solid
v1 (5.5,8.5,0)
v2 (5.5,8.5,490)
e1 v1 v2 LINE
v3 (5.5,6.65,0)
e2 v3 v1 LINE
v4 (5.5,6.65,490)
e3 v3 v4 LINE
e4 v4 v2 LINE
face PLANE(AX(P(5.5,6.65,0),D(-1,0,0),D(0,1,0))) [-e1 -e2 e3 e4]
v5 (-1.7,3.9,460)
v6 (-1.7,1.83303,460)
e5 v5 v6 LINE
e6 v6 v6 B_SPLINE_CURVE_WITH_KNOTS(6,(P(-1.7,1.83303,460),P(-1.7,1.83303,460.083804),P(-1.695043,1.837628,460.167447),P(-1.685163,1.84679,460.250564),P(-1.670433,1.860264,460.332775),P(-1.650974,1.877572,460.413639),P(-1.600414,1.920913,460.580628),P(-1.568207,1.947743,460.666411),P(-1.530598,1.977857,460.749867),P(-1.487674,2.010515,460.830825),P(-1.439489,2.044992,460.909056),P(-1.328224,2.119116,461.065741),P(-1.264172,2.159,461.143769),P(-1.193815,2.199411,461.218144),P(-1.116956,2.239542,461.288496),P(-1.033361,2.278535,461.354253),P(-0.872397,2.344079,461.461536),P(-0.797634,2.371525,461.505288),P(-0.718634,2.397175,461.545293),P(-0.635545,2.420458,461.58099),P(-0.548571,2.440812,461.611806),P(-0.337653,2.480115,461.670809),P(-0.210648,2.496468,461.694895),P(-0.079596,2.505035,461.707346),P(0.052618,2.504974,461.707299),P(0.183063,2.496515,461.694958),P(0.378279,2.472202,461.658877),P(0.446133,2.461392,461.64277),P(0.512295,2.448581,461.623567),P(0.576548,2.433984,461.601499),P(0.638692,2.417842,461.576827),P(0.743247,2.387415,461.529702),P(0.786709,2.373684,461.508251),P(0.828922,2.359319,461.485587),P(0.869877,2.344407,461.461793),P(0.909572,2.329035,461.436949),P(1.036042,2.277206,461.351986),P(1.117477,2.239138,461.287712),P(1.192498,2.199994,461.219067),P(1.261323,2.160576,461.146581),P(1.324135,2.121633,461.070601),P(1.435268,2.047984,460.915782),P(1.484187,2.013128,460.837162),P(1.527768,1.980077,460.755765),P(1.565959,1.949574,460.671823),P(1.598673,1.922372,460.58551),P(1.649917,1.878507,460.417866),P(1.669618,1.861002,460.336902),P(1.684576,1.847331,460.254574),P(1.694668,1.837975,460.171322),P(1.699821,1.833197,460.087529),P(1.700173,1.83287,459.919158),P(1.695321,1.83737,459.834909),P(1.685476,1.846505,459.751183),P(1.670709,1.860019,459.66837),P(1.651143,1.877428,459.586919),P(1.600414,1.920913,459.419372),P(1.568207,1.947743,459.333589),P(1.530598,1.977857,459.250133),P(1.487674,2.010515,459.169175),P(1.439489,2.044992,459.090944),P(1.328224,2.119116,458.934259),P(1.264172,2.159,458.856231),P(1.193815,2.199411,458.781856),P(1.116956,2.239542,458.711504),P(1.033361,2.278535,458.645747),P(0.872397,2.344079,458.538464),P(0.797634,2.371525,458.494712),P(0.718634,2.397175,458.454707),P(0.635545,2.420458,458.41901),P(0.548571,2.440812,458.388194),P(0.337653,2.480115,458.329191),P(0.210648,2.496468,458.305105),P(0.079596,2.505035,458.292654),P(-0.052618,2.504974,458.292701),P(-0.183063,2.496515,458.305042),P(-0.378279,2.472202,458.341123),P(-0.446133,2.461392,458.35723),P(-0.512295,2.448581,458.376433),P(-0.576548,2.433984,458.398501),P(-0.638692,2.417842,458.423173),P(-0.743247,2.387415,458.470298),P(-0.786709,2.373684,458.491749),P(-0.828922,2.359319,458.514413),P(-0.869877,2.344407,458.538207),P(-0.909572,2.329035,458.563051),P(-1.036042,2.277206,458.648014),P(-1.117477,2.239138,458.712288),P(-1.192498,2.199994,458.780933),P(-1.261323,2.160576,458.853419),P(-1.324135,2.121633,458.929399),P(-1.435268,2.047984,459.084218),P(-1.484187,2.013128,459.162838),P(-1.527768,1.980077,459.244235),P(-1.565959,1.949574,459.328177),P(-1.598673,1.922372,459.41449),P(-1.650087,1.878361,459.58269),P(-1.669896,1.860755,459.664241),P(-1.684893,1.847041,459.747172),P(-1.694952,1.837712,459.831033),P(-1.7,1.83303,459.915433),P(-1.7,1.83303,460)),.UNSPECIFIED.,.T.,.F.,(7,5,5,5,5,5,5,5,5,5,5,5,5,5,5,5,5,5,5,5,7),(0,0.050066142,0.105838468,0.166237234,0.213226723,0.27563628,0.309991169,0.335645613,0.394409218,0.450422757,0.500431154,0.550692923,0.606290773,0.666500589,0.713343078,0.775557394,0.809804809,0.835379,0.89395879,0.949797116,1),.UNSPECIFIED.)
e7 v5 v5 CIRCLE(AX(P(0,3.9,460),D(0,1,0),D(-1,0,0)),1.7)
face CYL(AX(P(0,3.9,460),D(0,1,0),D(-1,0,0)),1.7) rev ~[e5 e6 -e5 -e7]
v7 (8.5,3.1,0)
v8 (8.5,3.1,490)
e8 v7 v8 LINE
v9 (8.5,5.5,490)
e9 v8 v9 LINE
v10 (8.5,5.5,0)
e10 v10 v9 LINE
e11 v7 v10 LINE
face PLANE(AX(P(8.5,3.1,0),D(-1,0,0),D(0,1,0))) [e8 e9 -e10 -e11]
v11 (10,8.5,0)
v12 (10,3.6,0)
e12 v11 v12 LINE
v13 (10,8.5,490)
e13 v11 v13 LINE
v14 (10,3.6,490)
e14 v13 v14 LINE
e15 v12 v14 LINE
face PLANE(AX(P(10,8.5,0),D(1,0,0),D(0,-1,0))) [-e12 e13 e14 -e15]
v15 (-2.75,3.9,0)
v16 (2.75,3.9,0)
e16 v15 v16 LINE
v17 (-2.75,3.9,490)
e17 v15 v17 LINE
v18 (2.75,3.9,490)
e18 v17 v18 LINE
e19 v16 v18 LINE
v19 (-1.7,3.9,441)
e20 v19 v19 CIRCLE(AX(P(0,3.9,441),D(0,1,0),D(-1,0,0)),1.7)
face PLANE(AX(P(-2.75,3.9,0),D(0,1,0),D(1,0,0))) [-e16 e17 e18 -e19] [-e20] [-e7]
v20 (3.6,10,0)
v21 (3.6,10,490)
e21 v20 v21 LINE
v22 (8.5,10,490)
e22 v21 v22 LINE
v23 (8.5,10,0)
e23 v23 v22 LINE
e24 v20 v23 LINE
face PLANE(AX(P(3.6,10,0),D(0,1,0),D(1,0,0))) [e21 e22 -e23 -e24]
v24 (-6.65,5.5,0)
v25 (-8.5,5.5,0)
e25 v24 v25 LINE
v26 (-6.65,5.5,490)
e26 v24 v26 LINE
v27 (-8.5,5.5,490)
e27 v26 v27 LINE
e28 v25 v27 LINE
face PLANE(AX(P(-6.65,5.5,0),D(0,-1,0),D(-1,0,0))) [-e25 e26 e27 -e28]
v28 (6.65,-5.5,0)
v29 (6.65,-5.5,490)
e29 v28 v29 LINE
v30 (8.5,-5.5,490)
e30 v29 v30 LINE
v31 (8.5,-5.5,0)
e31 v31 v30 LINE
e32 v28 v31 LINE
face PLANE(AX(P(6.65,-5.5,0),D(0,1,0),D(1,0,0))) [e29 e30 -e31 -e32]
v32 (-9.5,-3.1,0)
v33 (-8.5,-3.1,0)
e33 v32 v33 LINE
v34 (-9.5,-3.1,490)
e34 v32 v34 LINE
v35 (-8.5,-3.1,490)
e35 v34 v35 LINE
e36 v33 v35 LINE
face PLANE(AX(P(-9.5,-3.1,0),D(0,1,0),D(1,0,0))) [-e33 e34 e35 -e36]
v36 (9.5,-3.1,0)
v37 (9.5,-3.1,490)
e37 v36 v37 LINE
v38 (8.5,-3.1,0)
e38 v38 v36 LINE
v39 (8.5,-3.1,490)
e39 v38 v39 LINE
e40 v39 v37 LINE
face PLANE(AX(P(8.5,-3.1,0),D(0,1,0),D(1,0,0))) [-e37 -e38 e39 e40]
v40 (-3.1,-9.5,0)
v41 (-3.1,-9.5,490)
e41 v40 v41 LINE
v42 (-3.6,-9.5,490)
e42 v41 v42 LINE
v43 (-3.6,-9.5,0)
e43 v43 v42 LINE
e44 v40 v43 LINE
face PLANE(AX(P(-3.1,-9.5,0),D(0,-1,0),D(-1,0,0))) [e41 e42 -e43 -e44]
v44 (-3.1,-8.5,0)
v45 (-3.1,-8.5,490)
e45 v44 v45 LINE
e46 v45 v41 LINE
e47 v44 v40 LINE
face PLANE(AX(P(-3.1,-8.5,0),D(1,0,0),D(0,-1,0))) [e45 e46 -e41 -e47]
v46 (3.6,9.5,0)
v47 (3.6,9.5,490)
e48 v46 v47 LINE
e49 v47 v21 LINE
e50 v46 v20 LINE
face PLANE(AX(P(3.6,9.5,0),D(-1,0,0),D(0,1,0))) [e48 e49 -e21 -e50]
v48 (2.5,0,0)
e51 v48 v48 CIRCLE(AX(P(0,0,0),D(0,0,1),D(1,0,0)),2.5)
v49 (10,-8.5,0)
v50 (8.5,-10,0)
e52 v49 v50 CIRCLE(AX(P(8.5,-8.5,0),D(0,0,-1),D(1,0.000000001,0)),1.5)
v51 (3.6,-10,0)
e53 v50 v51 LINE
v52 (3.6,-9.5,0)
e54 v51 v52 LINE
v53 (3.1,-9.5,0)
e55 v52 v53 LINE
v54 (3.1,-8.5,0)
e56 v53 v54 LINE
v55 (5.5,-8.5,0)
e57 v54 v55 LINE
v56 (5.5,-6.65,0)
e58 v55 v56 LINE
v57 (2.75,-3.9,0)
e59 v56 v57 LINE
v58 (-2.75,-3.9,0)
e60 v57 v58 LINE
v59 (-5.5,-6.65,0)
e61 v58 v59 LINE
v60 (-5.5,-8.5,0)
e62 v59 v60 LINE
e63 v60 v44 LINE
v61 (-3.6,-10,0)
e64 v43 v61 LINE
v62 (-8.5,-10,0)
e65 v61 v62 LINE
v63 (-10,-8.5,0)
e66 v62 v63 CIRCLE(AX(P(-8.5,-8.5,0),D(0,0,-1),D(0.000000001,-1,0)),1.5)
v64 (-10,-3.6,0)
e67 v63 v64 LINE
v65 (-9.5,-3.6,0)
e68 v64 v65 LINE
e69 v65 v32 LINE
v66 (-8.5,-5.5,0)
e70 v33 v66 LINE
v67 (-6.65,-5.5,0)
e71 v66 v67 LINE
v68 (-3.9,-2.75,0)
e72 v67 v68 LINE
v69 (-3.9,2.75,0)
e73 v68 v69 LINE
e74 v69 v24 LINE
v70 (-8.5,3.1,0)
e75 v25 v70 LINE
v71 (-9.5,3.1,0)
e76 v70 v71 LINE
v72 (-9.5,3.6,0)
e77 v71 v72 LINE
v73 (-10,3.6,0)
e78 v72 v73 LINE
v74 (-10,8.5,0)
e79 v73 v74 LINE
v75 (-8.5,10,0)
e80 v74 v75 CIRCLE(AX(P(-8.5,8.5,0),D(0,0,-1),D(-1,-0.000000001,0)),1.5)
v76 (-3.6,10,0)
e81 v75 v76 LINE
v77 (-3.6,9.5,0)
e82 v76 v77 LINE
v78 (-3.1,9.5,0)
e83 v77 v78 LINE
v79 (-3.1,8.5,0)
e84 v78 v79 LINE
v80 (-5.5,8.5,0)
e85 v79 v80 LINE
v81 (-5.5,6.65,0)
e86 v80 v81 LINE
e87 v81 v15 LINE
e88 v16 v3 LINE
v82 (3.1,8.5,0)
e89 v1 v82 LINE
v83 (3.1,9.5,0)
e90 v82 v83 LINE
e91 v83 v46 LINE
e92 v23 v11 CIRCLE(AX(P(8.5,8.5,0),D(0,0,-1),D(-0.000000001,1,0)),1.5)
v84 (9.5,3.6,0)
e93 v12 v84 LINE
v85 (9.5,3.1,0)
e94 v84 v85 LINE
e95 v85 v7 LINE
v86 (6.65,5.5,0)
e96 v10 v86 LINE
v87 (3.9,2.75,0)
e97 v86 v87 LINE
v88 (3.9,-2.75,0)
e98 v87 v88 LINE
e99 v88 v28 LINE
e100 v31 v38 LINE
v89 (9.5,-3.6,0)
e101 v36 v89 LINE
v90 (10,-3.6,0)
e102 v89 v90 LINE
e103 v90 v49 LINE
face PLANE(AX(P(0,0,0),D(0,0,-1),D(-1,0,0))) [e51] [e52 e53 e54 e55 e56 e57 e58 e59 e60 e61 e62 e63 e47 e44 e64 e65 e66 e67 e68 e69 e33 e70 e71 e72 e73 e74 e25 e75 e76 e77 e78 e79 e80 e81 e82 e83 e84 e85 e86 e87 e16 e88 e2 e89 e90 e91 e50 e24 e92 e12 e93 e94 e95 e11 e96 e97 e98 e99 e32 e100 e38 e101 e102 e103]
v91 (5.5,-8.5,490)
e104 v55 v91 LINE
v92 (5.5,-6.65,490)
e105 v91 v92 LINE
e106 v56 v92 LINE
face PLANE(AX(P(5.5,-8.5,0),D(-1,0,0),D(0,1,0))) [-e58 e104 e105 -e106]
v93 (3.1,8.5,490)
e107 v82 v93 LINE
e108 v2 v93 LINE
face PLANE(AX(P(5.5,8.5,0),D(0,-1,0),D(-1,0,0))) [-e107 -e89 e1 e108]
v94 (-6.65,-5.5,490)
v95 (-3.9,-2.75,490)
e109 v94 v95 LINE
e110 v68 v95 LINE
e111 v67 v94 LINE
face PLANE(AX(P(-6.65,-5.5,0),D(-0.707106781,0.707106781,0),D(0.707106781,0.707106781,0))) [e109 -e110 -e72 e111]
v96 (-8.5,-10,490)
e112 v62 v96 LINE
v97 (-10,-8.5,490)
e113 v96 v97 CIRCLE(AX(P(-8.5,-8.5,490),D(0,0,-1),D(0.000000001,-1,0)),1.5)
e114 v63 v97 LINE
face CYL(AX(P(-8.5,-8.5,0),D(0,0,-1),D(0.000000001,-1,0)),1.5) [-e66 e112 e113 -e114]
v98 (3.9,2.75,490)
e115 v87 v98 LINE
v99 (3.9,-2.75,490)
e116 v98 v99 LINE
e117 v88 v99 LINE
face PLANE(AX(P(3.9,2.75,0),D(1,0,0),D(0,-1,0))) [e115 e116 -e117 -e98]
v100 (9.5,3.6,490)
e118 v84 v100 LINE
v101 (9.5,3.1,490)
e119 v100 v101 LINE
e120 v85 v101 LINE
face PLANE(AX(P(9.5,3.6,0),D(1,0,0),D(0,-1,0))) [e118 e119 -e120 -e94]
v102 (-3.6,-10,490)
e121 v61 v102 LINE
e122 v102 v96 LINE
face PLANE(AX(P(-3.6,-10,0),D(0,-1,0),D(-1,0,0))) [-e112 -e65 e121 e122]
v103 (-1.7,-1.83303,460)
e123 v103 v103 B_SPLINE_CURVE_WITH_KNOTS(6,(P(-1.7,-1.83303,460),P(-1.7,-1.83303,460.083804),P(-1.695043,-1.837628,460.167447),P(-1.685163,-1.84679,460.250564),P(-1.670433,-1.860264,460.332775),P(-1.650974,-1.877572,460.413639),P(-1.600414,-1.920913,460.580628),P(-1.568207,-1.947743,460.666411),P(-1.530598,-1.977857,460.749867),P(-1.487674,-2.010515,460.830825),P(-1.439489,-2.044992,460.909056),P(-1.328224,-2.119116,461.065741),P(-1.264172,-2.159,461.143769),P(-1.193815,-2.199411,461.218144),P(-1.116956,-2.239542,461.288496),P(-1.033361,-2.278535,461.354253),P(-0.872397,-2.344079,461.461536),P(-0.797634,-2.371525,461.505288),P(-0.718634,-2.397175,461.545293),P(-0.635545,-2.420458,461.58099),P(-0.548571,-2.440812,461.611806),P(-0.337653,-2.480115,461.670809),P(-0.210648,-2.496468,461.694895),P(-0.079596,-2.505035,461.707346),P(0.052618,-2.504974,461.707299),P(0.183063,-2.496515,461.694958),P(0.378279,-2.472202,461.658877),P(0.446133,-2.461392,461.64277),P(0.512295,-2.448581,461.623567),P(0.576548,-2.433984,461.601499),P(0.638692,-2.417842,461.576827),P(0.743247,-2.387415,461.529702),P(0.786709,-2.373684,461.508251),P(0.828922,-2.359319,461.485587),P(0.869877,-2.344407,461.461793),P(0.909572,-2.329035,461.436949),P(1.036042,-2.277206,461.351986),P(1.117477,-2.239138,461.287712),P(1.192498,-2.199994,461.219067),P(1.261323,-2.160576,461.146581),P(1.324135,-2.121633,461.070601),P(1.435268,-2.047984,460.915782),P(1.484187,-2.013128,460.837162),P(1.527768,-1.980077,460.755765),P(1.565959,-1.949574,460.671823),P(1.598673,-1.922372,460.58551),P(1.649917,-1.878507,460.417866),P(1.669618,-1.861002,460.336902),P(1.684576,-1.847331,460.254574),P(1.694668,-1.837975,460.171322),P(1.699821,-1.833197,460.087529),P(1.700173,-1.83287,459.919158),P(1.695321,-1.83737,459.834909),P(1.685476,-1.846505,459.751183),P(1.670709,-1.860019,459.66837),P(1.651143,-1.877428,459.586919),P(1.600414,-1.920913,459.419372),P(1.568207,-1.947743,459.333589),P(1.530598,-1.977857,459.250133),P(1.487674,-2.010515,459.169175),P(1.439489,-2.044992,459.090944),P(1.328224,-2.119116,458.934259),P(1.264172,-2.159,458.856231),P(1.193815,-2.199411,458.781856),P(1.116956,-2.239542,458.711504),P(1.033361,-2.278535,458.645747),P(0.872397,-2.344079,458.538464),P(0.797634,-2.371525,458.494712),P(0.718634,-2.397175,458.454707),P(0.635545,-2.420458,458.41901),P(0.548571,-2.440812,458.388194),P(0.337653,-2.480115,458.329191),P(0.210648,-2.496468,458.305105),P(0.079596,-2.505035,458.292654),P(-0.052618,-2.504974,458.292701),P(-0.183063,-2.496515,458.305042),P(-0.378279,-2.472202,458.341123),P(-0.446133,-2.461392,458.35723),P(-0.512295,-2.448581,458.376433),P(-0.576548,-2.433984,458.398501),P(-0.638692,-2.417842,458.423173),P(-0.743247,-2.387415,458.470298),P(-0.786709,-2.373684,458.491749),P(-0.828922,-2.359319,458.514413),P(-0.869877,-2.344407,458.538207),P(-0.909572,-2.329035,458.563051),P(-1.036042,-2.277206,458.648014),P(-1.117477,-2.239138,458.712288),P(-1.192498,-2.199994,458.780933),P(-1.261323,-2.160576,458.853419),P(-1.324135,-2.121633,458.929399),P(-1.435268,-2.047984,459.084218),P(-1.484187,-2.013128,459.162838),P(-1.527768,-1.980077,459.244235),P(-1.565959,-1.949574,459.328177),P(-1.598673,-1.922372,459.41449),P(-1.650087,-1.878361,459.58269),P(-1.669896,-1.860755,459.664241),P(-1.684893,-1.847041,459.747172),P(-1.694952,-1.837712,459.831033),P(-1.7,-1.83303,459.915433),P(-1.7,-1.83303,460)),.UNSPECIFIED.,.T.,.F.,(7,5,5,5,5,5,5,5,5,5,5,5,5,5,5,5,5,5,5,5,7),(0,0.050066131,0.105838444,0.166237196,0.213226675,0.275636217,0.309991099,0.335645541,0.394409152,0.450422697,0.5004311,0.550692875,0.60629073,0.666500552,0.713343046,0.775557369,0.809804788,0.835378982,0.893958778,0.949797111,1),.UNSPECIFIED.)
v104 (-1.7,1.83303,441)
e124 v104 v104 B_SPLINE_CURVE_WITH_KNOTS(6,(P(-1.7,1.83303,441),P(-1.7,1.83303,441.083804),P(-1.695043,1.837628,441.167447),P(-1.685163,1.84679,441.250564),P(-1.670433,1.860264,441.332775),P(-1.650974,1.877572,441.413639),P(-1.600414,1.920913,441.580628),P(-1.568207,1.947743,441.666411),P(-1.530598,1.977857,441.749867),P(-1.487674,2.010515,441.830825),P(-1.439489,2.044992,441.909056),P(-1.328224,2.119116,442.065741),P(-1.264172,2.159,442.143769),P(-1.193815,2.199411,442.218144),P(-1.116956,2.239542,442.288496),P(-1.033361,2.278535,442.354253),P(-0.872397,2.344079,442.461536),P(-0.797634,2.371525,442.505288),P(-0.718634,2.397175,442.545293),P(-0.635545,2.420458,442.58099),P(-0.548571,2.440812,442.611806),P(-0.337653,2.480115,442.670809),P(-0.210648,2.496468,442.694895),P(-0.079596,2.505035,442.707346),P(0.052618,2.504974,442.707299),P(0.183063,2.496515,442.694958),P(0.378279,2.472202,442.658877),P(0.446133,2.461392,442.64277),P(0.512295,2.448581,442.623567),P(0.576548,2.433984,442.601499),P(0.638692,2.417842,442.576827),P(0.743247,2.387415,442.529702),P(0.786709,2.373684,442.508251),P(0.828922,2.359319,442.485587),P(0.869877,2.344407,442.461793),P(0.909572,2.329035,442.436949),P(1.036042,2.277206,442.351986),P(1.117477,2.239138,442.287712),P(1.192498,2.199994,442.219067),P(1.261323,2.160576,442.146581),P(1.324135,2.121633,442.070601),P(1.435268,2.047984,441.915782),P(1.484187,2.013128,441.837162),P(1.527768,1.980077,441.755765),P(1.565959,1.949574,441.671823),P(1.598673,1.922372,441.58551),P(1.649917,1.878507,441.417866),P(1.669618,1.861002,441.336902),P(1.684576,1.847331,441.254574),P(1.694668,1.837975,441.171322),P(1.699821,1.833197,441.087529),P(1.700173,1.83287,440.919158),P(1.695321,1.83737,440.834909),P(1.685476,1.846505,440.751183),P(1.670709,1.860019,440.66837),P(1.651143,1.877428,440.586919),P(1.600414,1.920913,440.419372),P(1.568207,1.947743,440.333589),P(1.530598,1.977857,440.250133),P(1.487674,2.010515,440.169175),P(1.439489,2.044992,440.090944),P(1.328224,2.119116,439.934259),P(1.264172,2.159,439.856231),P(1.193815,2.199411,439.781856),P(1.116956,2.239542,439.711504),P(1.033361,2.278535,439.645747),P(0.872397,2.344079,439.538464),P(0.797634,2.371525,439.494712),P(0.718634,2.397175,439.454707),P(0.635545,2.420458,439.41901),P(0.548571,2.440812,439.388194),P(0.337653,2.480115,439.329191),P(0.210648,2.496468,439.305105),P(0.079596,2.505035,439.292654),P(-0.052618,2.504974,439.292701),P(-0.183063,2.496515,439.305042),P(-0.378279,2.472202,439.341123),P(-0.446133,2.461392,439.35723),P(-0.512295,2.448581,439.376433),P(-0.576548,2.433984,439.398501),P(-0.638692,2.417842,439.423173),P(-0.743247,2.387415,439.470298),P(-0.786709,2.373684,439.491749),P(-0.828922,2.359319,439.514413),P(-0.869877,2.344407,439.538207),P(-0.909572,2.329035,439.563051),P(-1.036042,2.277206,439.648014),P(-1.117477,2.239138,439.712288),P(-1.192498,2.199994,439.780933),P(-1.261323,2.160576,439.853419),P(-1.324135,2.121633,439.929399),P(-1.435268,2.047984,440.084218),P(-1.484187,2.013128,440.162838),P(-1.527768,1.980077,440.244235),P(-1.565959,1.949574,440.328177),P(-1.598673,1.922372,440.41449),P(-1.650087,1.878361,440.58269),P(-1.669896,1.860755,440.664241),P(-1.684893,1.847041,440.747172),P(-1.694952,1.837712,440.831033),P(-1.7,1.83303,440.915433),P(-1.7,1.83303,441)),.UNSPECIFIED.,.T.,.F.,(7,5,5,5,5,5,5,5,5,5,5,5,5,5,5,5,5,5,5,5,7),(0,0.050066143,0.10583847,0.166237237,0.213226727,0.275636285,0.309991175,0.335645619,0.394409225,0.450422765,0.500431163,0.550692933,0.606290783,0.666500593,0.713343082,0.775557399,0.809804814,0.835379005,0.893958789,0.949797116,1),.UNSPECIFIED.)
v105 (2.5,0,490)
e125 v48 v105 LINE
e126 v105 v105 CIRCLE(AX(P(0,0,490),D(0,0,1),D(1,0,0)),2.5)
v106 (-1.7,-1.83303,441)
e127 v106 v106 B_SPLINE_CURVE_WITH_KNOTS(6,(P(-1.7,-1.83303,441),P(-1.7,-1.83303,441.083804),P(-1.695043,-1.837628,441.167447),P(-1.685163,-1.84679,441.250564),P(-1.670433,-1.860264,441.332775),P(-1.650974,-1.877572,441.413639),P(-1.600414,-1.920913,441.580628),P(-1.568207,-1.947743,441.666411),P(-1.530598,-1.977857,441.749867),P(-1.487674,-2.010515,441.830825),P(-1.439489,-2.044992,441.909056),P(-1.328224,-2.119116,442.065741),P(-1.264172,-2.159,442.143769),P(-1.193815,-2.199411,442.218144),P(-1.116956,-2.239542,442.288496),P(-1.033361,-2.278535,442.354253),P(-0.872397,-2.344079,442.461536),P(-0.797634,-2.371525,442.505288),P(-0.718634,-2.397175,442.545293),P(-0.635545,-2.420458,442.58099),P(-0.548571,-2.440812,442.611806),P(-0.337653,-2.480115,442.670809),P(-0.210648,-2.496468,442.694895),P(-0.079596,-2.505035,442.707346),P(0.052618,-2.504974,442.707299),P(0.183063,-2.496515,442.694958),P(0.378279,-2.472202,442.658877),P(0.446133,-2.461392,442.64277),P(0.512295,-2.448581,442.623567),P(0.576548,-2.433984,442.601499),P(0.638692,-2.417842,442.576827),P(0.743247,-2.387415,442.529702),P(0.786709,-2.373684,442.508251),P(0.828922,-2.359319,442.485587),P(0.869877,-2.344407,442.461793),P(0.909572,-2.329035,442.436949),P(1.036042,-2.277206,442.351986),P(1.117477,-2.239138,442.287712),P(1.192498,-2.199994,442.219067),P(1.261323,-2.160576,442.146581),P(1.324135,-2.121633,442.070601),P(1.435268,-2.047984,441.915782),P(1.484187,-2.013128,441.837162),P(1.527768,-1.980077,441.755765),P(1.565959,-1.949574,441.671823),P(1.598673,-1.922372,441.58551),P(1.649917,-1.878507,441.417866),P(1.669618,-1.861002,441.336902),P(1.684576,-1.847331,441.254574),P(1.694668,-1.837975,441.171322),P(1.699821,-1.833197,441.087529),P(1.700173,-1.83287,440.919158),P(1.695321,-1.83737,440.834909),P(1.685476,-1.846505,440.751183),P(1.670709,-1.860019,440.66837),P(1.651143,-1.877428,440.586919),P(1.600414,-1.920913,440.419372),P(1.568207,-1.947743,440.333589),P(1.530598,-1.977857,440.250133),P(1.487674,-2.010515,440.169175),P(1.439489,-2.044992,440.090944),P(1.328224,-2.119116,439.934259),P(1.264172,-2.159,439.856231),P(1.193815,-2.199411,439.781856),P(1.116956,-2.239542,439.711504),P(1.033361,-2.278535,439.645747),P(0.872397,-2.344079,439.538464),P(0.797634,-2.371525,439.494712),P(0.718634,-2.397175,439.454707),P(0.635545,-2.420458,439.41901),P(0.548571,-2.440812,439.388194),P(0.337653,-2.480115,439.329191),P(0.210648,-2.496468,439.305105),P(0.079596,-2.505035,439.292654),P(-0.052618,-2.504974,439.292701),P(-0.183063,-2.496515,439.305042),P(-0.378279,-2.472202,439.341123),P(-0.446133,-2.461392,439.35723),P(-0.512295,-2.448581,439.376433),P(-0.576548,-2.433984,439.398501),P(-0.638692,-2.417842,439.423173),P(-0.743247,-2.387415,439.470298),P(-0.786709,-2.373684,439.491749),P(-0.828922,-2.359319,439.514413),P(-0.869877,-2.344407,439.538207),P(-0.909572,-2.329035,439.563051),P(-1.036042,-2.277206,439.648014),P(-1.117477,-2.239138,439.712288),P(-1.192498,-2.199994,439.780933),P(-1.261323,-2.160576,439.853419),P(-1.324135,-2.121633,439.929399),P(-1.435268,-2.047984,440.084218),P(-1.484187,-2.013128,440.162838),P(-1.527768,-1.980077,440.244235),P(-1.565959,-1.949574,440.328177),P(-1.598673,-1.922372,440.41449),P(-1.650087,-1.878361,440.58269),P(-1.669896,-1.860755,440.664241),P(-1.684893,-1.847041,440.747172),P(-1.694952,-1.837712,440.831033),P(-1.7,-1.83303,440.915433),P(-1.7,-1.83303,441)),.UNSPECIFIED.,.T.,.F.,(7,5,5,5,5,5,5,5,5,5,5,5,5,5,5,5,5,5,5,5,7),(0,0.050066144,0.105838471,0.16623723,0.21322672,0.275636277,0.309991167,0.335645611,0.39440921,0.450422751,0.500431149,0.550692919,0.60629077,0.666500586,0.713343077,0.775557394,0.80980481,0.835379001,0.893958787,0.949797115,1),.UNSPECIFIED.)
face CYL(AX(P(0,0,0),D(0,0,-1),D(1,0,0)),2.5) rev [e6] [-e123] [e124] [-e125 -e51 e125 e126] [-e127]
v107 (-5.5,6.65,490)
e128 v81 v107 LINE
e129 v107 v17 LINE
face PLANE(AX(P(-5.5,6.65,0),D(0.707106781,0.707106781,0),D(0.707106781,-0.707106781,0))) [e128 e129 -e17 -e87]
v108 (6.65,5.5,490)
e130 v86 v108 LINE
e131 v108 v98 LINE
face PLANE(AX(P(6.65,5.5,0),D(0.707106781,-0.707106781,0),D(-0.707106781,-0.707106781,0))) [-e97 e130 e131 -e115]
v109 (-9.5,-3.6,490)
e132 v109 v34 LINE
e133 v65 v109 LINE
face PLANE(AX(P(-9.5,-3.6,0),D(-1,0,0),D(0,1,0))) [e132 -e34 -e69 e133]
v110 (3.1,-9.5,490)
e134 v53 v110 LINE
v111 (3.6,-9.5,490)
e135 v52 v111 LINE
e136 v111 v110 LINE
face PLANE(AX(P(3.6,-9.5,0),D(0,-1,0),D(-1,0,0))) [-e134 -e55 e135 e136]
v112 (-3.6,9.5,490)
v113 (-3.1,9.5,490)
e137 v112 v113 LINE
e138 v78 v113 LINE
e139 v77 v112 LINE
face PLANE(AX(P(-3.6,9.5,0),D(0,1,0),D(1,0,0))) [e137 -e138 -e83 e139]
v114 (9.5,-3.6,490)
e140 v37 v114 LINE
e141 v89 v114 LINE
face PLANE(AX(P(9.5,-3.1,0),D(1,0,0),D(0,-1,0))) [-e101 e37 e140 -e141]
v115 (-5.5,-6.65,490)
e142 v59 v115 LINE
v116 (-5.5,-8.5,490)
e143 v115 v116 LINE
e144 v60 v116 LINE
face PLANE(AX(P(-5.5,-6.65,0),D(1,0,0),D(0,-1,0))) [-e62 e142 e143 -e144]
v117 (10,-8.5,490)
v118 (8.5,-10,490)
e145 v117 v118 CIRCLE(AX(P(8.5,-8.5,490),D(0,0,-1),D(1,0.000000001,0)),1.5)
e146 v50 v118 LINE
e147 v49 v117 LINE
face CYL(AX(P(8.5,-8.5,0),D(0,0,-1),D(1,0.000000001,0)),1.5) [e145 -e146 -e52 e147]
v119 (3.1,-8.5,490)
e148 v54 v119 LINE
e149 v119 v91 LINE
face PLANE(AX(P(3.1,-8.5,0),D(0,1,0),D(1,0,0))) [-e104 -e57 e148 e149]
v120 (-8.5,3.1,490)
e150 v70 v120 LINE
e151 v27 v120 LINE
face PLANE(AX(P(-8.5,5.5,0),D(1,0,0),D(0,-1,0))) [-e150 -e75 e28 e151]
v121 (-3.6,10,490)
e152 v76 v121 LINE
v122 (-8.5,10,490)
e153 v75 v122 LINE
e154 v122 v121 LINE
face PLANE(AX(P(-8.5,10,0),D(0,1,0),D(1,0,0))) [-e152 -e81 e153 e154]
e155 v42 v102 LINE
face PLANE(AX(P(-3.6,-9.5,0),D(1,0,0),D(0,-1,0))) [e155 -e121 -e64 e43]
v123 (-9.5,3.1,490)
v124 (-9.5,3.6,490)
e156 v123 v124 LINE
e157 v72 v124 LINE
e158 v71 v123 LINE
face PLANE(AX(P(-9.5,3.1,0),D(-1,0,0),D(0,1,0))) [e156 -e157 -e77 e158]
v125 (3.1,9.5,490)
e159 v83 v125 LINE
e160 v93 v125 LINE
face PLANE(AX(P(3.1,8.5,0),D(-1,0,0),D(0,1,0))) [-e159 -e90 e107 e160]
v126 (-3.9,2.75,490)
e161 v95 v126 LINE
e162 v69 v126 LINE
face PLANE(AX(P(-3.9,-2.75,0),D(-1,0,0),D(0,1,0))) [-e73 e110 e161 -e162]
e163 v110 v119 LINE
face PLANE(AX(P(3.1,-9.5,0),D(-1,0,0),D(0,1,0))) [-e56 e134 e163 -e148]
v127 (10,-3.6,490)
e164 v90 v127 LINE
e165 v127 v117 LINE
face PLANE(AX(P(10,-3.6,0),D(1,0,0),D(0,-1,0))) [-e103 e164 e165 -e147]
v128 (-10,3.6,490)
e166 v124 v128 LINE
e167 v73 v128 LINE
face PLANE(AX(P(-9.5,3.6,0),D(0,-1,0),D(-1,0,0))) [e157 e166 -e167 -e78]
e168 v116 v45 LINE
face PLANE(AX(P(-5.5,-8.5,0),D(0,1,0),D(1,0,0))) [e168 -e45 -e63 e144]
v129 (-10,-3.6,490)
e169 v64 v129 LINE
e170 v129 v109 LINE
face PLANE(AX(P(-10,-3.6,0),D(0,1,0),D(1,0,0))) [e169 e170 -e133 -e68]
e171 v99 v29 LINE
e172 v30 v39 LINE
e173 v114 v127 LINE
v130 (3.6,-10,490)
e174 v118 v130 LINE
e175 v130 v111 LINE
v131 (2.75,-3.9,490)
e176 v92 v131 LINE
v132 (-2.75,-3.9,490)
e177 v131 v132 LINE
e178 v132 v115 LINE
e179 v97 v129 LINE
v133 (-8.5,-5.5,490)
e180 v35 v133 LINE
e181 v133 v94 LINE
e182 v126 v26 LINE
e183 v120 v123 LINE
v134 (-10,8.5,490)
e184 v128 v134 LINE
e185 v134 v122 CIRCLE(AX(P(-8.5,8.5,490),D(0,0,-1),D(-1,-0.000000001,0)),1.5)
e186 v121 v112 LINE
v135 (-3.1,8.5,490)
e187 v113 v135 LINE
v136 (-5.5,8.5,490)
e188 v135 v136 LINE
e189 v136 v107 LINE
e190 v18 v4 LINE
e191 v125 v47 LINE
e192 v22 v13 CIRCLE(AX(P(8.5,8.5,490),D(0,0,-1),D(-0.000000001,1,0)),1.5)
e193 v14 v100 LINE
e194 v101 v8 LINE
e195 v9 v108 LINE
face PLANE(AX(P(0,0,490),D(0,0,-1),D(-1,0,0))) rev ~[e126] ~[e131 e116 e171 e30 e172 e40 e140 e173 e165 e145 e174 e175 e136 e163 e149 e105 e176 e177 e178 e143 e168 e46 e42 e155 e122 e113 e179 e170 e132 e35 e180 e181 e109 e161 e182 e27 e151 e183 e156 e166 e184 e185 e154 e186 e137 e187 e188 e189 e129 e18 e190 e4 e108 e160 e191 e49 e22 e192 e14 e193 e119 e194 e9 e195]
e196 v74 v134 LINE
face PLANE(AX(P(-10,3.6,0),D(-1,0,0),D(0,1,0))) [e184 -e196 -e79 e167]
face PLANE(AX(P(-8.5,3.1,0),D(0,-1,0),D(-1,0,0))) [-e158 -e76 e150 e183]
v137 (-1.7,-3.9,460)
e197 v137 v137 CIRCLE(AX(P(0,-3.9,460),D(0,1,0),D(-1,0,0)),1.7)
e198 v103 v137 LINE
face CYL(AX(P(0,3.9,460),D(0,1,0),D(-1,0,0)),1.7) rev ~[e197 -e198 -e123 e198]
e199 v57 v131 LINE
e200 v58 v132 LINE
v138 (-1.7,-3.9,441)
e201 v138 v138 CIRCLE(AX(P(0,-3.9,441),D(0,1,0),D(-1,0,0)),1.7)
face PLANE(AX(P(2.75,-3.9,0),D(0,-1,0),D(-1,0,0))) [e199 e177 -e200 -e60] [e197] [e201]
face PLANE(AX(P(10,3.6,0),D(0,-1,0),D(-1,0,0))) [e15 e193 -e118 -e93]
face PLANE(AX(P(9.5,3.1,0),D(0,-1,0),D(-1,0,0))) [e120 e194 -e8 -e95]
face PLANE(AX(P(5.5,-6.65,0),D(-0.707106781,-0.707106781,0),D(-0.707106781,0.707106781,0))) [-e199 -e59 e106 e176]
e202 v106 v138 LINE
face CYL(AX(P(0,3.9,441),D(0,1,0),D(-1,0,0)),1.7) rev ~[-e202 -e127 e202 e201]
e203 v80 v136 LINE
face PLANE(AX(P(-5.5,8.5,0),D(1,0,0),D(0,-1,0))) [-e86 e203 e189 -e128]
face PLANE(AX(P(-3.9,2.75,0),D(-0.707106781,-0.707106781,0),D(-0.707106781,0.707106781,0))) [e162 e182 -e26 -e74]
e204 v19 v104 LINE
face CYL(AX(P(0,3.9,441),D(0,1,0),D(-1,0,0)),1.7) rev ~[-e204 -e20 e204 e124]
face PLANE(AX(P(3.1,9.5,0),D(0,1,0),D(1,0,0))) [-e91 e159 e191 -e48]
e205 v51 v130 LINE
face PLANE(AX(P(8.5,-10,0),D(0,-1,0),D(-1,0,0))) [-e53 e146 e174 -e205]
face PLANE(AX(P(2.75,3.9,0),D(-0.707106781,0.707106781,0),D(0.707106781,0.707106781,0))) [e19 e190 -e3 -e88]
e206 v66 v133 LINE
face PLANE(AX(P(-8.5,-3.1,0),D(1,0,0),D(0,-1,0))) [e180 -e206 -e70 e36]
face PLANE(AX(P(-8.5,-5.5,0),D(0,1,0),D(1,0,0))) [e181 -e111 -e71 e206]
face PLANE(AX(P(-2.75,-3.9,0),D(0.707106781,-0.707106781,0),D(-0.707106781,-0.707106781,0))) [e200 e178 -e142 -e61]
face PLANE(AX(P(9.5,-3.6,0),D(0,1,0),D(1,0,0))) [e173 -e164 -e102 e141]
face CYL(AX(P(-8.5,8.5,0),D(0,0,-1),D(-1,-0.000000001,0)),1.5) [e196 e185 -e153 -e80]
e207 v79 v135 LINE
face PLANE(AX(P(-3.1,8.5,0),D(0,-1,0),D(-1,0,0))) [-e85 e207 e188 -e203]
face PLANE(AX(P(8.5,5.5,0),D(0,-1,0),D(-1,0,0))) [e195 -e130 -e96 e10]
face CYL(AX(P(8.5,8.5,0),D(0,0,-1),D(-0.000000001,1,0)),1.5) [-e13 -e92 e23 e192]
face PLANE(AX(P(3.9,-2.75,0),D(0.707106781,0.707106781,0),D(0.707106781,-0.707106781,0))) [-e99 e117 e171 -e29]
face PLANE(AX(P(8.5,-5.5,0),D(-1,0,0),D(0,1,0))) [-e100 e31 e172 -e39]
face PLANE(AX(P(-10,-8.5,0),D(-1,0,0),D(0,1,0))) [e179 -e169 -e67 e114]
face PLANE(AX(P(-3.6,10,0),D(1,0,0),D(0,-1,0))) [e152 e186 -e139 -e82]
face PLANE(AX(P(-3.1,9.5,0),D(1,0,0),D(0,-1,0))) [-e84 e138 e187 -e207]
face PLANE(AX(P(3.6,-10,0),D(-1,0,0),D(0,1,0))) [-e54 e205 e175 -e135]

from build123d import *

# Parameters (mm, degrees)
SKETCH1_R           = 2.5
EXTRUDE_1_DEPTH     = 490
SKETCH_1_R          = 1.7
CUT_EXTRUDE_2_DEPTH = 491.299102589


with BuildPart() as part:
    # Sketch1 → 凸台-拉伸1 (new body)
    with BuildSketch(Plane.XY):
        with BuildLine():
            Line((-3.6, 10), (-3.6, 9.5))
            Line((-3.6, 9.5), (-3.1, 9.5))
            Line((-3.1, 9.5), (-3.1, 8.5))
            Line((-3.1, 8.5), (-5.5, 8.5))
            Line((-5.5, 8.5), (-5.5, 6.65))
            Line((-5.5, 6.65), (-2.75, 3.9))
            Line((-2.75, 3.9), (2.75, 3.9))
            Line((2.75, 3.9), (5.5, 6.65))
            Line((5.5, 6.65), (5.5, 8.5))
            Line((5.5, 8.5), (3.1, 8.5))
            Line((3.1, 8.5), (3.1, 9.5))
            Line((3.1, 9.5), (3.6, 9.5))
            Line((3.6, 9.5), (3.6, 10))
            Line((3.6, 10), (8.5, 10))
            ThreePointArc((8.5, 10), (9.560660172, 9.560660172), (10, 8.5))
            Line((10, 8.5), (10, 3.6))
            Line((10, 3.6), (9.5, 3.6))
            Line((9.5, 3.6), (9.5, 3.1))
            Line((9.5, 3.1), (8.5, 3.1))
            Line((8.5, 3.1), (8.5, 5.5))
            Line((8.5, 5.5), (6.65, 5.5))
            Line((6.65, 5.5), (3.9, 2.75))
            Line((3.9, 2.75), (3.9, -2.75))
            Line((3.9, -2.75), (6.65, -5.5))
            Line((6.65, -5.5), (8.5, -5.5))
            Line((8.5, -5.5), (8.5, -3.1))
            Line((8.5, -3.1), (9.5, -3.1))
            Line((9.5, -3.1), (9.5, -3.6))
            Line((9.5, -3.6), (10, -3.6))
            Line((10, -3.6), (10, -8.5))
            ThreePointArc((10, -8.5), (9.560660172, -9.560660172), (8.5, -10))
            Line((8.5, -10), (3.6, -10))
            Line((3.6, -10), (3.6, -9.5))
            Line((3.6, -9.5), (3.1, -9.5))
            Line((3.1, -9.5), (3.1, -8.5))
            Line((3.1, -8.5), (5.5, -8.5))
            Line((5.5, -8.5), (5.5, -6.65))
            Line((5.5, -6.65), (2.75, -3.9))
            Line((2.75, -3.9), (-2.75, -3.9))
            Line((-2.75, -3.9), (-5.5, -6.65))
            Line((-5.5, -6.65), (-5.5, -8.5))
            Line((-5.5, -8.5), (-3.1, -8.5))
            Line((-3.1, -8.5), (-3.1, -9.5))
            Line((-3.1, -9.5), (-3.6, -9.5))
            Line((-3.6, -9.5), (-3.6, -10))
            Line((-3.6, -10), (-8.5, -10))
            ThreePointArc((-8.5, -10), (-9.560660172, -9.560660172), (-10, -8.5))
            Line((-10, -8.5), (-10, -3.6))
            Line((-10, -3.6), (-9.5, -3.6))
            Line((-9.5, -3.6), (-9.5, -3.1))
            Line((-9.5, -3.1), (-8.5, -3.1))
            Line((-8.5, -3.1), (-8.5, -5.5))
            Line((-8.5, -5.5), (-6.65, -5.5))
            Line((-6.65, -5.5), (-3.9, -2.75))
            Line((-3.9, -2.75), (-3.9, 2.75))
            Line((-3.9, 2.75), (-6.65, 5.5))
            Line((-6.65, 5.5), (-8.5, 5.5))
            Line((-8.5, 5.5), (-8.5, 3.1))
            Line((-8.5, 3.1), (-9.5, 3.1))
            Line((-9.5, 3.1), (-9.5, 3.6))
            Line((-9.5, 3.6), (-10, 3.6))
            Line((-10, 3.6), (-10, 8.5))
            ThreePointArc((-10, 8.5), (-9.560660172, 9.560660172), (-8.5, 10))
            Line((-8.5, 10), (-3.6, 10))
        make_face()
        Circle(SKETCH1_R, mode=Mode.SUBTRACT)
    extrude(amount=EXTRUDE_1_DEPTH)

    # 草图1 → 切除-拉伸2 (cut, through all)
    with BuildSketch(Plane(origin=(0, 3.9, 0), x_dir=(1, 0, 0), z_dir=(0, 1, 0))):
        with Locations(Location((0, -460, 0), (0, 0, 180))):
            Circle(SKETCH_1_R)
        with Locations(Location((0, -441, 0), (0, 0, 180))):
            Circle(SKETCH_1_R)
    extrude(amount=-CUT_EXTRUDE_2_DEPTH, mode=Mode.SUBTRACT)


solid = part.part
